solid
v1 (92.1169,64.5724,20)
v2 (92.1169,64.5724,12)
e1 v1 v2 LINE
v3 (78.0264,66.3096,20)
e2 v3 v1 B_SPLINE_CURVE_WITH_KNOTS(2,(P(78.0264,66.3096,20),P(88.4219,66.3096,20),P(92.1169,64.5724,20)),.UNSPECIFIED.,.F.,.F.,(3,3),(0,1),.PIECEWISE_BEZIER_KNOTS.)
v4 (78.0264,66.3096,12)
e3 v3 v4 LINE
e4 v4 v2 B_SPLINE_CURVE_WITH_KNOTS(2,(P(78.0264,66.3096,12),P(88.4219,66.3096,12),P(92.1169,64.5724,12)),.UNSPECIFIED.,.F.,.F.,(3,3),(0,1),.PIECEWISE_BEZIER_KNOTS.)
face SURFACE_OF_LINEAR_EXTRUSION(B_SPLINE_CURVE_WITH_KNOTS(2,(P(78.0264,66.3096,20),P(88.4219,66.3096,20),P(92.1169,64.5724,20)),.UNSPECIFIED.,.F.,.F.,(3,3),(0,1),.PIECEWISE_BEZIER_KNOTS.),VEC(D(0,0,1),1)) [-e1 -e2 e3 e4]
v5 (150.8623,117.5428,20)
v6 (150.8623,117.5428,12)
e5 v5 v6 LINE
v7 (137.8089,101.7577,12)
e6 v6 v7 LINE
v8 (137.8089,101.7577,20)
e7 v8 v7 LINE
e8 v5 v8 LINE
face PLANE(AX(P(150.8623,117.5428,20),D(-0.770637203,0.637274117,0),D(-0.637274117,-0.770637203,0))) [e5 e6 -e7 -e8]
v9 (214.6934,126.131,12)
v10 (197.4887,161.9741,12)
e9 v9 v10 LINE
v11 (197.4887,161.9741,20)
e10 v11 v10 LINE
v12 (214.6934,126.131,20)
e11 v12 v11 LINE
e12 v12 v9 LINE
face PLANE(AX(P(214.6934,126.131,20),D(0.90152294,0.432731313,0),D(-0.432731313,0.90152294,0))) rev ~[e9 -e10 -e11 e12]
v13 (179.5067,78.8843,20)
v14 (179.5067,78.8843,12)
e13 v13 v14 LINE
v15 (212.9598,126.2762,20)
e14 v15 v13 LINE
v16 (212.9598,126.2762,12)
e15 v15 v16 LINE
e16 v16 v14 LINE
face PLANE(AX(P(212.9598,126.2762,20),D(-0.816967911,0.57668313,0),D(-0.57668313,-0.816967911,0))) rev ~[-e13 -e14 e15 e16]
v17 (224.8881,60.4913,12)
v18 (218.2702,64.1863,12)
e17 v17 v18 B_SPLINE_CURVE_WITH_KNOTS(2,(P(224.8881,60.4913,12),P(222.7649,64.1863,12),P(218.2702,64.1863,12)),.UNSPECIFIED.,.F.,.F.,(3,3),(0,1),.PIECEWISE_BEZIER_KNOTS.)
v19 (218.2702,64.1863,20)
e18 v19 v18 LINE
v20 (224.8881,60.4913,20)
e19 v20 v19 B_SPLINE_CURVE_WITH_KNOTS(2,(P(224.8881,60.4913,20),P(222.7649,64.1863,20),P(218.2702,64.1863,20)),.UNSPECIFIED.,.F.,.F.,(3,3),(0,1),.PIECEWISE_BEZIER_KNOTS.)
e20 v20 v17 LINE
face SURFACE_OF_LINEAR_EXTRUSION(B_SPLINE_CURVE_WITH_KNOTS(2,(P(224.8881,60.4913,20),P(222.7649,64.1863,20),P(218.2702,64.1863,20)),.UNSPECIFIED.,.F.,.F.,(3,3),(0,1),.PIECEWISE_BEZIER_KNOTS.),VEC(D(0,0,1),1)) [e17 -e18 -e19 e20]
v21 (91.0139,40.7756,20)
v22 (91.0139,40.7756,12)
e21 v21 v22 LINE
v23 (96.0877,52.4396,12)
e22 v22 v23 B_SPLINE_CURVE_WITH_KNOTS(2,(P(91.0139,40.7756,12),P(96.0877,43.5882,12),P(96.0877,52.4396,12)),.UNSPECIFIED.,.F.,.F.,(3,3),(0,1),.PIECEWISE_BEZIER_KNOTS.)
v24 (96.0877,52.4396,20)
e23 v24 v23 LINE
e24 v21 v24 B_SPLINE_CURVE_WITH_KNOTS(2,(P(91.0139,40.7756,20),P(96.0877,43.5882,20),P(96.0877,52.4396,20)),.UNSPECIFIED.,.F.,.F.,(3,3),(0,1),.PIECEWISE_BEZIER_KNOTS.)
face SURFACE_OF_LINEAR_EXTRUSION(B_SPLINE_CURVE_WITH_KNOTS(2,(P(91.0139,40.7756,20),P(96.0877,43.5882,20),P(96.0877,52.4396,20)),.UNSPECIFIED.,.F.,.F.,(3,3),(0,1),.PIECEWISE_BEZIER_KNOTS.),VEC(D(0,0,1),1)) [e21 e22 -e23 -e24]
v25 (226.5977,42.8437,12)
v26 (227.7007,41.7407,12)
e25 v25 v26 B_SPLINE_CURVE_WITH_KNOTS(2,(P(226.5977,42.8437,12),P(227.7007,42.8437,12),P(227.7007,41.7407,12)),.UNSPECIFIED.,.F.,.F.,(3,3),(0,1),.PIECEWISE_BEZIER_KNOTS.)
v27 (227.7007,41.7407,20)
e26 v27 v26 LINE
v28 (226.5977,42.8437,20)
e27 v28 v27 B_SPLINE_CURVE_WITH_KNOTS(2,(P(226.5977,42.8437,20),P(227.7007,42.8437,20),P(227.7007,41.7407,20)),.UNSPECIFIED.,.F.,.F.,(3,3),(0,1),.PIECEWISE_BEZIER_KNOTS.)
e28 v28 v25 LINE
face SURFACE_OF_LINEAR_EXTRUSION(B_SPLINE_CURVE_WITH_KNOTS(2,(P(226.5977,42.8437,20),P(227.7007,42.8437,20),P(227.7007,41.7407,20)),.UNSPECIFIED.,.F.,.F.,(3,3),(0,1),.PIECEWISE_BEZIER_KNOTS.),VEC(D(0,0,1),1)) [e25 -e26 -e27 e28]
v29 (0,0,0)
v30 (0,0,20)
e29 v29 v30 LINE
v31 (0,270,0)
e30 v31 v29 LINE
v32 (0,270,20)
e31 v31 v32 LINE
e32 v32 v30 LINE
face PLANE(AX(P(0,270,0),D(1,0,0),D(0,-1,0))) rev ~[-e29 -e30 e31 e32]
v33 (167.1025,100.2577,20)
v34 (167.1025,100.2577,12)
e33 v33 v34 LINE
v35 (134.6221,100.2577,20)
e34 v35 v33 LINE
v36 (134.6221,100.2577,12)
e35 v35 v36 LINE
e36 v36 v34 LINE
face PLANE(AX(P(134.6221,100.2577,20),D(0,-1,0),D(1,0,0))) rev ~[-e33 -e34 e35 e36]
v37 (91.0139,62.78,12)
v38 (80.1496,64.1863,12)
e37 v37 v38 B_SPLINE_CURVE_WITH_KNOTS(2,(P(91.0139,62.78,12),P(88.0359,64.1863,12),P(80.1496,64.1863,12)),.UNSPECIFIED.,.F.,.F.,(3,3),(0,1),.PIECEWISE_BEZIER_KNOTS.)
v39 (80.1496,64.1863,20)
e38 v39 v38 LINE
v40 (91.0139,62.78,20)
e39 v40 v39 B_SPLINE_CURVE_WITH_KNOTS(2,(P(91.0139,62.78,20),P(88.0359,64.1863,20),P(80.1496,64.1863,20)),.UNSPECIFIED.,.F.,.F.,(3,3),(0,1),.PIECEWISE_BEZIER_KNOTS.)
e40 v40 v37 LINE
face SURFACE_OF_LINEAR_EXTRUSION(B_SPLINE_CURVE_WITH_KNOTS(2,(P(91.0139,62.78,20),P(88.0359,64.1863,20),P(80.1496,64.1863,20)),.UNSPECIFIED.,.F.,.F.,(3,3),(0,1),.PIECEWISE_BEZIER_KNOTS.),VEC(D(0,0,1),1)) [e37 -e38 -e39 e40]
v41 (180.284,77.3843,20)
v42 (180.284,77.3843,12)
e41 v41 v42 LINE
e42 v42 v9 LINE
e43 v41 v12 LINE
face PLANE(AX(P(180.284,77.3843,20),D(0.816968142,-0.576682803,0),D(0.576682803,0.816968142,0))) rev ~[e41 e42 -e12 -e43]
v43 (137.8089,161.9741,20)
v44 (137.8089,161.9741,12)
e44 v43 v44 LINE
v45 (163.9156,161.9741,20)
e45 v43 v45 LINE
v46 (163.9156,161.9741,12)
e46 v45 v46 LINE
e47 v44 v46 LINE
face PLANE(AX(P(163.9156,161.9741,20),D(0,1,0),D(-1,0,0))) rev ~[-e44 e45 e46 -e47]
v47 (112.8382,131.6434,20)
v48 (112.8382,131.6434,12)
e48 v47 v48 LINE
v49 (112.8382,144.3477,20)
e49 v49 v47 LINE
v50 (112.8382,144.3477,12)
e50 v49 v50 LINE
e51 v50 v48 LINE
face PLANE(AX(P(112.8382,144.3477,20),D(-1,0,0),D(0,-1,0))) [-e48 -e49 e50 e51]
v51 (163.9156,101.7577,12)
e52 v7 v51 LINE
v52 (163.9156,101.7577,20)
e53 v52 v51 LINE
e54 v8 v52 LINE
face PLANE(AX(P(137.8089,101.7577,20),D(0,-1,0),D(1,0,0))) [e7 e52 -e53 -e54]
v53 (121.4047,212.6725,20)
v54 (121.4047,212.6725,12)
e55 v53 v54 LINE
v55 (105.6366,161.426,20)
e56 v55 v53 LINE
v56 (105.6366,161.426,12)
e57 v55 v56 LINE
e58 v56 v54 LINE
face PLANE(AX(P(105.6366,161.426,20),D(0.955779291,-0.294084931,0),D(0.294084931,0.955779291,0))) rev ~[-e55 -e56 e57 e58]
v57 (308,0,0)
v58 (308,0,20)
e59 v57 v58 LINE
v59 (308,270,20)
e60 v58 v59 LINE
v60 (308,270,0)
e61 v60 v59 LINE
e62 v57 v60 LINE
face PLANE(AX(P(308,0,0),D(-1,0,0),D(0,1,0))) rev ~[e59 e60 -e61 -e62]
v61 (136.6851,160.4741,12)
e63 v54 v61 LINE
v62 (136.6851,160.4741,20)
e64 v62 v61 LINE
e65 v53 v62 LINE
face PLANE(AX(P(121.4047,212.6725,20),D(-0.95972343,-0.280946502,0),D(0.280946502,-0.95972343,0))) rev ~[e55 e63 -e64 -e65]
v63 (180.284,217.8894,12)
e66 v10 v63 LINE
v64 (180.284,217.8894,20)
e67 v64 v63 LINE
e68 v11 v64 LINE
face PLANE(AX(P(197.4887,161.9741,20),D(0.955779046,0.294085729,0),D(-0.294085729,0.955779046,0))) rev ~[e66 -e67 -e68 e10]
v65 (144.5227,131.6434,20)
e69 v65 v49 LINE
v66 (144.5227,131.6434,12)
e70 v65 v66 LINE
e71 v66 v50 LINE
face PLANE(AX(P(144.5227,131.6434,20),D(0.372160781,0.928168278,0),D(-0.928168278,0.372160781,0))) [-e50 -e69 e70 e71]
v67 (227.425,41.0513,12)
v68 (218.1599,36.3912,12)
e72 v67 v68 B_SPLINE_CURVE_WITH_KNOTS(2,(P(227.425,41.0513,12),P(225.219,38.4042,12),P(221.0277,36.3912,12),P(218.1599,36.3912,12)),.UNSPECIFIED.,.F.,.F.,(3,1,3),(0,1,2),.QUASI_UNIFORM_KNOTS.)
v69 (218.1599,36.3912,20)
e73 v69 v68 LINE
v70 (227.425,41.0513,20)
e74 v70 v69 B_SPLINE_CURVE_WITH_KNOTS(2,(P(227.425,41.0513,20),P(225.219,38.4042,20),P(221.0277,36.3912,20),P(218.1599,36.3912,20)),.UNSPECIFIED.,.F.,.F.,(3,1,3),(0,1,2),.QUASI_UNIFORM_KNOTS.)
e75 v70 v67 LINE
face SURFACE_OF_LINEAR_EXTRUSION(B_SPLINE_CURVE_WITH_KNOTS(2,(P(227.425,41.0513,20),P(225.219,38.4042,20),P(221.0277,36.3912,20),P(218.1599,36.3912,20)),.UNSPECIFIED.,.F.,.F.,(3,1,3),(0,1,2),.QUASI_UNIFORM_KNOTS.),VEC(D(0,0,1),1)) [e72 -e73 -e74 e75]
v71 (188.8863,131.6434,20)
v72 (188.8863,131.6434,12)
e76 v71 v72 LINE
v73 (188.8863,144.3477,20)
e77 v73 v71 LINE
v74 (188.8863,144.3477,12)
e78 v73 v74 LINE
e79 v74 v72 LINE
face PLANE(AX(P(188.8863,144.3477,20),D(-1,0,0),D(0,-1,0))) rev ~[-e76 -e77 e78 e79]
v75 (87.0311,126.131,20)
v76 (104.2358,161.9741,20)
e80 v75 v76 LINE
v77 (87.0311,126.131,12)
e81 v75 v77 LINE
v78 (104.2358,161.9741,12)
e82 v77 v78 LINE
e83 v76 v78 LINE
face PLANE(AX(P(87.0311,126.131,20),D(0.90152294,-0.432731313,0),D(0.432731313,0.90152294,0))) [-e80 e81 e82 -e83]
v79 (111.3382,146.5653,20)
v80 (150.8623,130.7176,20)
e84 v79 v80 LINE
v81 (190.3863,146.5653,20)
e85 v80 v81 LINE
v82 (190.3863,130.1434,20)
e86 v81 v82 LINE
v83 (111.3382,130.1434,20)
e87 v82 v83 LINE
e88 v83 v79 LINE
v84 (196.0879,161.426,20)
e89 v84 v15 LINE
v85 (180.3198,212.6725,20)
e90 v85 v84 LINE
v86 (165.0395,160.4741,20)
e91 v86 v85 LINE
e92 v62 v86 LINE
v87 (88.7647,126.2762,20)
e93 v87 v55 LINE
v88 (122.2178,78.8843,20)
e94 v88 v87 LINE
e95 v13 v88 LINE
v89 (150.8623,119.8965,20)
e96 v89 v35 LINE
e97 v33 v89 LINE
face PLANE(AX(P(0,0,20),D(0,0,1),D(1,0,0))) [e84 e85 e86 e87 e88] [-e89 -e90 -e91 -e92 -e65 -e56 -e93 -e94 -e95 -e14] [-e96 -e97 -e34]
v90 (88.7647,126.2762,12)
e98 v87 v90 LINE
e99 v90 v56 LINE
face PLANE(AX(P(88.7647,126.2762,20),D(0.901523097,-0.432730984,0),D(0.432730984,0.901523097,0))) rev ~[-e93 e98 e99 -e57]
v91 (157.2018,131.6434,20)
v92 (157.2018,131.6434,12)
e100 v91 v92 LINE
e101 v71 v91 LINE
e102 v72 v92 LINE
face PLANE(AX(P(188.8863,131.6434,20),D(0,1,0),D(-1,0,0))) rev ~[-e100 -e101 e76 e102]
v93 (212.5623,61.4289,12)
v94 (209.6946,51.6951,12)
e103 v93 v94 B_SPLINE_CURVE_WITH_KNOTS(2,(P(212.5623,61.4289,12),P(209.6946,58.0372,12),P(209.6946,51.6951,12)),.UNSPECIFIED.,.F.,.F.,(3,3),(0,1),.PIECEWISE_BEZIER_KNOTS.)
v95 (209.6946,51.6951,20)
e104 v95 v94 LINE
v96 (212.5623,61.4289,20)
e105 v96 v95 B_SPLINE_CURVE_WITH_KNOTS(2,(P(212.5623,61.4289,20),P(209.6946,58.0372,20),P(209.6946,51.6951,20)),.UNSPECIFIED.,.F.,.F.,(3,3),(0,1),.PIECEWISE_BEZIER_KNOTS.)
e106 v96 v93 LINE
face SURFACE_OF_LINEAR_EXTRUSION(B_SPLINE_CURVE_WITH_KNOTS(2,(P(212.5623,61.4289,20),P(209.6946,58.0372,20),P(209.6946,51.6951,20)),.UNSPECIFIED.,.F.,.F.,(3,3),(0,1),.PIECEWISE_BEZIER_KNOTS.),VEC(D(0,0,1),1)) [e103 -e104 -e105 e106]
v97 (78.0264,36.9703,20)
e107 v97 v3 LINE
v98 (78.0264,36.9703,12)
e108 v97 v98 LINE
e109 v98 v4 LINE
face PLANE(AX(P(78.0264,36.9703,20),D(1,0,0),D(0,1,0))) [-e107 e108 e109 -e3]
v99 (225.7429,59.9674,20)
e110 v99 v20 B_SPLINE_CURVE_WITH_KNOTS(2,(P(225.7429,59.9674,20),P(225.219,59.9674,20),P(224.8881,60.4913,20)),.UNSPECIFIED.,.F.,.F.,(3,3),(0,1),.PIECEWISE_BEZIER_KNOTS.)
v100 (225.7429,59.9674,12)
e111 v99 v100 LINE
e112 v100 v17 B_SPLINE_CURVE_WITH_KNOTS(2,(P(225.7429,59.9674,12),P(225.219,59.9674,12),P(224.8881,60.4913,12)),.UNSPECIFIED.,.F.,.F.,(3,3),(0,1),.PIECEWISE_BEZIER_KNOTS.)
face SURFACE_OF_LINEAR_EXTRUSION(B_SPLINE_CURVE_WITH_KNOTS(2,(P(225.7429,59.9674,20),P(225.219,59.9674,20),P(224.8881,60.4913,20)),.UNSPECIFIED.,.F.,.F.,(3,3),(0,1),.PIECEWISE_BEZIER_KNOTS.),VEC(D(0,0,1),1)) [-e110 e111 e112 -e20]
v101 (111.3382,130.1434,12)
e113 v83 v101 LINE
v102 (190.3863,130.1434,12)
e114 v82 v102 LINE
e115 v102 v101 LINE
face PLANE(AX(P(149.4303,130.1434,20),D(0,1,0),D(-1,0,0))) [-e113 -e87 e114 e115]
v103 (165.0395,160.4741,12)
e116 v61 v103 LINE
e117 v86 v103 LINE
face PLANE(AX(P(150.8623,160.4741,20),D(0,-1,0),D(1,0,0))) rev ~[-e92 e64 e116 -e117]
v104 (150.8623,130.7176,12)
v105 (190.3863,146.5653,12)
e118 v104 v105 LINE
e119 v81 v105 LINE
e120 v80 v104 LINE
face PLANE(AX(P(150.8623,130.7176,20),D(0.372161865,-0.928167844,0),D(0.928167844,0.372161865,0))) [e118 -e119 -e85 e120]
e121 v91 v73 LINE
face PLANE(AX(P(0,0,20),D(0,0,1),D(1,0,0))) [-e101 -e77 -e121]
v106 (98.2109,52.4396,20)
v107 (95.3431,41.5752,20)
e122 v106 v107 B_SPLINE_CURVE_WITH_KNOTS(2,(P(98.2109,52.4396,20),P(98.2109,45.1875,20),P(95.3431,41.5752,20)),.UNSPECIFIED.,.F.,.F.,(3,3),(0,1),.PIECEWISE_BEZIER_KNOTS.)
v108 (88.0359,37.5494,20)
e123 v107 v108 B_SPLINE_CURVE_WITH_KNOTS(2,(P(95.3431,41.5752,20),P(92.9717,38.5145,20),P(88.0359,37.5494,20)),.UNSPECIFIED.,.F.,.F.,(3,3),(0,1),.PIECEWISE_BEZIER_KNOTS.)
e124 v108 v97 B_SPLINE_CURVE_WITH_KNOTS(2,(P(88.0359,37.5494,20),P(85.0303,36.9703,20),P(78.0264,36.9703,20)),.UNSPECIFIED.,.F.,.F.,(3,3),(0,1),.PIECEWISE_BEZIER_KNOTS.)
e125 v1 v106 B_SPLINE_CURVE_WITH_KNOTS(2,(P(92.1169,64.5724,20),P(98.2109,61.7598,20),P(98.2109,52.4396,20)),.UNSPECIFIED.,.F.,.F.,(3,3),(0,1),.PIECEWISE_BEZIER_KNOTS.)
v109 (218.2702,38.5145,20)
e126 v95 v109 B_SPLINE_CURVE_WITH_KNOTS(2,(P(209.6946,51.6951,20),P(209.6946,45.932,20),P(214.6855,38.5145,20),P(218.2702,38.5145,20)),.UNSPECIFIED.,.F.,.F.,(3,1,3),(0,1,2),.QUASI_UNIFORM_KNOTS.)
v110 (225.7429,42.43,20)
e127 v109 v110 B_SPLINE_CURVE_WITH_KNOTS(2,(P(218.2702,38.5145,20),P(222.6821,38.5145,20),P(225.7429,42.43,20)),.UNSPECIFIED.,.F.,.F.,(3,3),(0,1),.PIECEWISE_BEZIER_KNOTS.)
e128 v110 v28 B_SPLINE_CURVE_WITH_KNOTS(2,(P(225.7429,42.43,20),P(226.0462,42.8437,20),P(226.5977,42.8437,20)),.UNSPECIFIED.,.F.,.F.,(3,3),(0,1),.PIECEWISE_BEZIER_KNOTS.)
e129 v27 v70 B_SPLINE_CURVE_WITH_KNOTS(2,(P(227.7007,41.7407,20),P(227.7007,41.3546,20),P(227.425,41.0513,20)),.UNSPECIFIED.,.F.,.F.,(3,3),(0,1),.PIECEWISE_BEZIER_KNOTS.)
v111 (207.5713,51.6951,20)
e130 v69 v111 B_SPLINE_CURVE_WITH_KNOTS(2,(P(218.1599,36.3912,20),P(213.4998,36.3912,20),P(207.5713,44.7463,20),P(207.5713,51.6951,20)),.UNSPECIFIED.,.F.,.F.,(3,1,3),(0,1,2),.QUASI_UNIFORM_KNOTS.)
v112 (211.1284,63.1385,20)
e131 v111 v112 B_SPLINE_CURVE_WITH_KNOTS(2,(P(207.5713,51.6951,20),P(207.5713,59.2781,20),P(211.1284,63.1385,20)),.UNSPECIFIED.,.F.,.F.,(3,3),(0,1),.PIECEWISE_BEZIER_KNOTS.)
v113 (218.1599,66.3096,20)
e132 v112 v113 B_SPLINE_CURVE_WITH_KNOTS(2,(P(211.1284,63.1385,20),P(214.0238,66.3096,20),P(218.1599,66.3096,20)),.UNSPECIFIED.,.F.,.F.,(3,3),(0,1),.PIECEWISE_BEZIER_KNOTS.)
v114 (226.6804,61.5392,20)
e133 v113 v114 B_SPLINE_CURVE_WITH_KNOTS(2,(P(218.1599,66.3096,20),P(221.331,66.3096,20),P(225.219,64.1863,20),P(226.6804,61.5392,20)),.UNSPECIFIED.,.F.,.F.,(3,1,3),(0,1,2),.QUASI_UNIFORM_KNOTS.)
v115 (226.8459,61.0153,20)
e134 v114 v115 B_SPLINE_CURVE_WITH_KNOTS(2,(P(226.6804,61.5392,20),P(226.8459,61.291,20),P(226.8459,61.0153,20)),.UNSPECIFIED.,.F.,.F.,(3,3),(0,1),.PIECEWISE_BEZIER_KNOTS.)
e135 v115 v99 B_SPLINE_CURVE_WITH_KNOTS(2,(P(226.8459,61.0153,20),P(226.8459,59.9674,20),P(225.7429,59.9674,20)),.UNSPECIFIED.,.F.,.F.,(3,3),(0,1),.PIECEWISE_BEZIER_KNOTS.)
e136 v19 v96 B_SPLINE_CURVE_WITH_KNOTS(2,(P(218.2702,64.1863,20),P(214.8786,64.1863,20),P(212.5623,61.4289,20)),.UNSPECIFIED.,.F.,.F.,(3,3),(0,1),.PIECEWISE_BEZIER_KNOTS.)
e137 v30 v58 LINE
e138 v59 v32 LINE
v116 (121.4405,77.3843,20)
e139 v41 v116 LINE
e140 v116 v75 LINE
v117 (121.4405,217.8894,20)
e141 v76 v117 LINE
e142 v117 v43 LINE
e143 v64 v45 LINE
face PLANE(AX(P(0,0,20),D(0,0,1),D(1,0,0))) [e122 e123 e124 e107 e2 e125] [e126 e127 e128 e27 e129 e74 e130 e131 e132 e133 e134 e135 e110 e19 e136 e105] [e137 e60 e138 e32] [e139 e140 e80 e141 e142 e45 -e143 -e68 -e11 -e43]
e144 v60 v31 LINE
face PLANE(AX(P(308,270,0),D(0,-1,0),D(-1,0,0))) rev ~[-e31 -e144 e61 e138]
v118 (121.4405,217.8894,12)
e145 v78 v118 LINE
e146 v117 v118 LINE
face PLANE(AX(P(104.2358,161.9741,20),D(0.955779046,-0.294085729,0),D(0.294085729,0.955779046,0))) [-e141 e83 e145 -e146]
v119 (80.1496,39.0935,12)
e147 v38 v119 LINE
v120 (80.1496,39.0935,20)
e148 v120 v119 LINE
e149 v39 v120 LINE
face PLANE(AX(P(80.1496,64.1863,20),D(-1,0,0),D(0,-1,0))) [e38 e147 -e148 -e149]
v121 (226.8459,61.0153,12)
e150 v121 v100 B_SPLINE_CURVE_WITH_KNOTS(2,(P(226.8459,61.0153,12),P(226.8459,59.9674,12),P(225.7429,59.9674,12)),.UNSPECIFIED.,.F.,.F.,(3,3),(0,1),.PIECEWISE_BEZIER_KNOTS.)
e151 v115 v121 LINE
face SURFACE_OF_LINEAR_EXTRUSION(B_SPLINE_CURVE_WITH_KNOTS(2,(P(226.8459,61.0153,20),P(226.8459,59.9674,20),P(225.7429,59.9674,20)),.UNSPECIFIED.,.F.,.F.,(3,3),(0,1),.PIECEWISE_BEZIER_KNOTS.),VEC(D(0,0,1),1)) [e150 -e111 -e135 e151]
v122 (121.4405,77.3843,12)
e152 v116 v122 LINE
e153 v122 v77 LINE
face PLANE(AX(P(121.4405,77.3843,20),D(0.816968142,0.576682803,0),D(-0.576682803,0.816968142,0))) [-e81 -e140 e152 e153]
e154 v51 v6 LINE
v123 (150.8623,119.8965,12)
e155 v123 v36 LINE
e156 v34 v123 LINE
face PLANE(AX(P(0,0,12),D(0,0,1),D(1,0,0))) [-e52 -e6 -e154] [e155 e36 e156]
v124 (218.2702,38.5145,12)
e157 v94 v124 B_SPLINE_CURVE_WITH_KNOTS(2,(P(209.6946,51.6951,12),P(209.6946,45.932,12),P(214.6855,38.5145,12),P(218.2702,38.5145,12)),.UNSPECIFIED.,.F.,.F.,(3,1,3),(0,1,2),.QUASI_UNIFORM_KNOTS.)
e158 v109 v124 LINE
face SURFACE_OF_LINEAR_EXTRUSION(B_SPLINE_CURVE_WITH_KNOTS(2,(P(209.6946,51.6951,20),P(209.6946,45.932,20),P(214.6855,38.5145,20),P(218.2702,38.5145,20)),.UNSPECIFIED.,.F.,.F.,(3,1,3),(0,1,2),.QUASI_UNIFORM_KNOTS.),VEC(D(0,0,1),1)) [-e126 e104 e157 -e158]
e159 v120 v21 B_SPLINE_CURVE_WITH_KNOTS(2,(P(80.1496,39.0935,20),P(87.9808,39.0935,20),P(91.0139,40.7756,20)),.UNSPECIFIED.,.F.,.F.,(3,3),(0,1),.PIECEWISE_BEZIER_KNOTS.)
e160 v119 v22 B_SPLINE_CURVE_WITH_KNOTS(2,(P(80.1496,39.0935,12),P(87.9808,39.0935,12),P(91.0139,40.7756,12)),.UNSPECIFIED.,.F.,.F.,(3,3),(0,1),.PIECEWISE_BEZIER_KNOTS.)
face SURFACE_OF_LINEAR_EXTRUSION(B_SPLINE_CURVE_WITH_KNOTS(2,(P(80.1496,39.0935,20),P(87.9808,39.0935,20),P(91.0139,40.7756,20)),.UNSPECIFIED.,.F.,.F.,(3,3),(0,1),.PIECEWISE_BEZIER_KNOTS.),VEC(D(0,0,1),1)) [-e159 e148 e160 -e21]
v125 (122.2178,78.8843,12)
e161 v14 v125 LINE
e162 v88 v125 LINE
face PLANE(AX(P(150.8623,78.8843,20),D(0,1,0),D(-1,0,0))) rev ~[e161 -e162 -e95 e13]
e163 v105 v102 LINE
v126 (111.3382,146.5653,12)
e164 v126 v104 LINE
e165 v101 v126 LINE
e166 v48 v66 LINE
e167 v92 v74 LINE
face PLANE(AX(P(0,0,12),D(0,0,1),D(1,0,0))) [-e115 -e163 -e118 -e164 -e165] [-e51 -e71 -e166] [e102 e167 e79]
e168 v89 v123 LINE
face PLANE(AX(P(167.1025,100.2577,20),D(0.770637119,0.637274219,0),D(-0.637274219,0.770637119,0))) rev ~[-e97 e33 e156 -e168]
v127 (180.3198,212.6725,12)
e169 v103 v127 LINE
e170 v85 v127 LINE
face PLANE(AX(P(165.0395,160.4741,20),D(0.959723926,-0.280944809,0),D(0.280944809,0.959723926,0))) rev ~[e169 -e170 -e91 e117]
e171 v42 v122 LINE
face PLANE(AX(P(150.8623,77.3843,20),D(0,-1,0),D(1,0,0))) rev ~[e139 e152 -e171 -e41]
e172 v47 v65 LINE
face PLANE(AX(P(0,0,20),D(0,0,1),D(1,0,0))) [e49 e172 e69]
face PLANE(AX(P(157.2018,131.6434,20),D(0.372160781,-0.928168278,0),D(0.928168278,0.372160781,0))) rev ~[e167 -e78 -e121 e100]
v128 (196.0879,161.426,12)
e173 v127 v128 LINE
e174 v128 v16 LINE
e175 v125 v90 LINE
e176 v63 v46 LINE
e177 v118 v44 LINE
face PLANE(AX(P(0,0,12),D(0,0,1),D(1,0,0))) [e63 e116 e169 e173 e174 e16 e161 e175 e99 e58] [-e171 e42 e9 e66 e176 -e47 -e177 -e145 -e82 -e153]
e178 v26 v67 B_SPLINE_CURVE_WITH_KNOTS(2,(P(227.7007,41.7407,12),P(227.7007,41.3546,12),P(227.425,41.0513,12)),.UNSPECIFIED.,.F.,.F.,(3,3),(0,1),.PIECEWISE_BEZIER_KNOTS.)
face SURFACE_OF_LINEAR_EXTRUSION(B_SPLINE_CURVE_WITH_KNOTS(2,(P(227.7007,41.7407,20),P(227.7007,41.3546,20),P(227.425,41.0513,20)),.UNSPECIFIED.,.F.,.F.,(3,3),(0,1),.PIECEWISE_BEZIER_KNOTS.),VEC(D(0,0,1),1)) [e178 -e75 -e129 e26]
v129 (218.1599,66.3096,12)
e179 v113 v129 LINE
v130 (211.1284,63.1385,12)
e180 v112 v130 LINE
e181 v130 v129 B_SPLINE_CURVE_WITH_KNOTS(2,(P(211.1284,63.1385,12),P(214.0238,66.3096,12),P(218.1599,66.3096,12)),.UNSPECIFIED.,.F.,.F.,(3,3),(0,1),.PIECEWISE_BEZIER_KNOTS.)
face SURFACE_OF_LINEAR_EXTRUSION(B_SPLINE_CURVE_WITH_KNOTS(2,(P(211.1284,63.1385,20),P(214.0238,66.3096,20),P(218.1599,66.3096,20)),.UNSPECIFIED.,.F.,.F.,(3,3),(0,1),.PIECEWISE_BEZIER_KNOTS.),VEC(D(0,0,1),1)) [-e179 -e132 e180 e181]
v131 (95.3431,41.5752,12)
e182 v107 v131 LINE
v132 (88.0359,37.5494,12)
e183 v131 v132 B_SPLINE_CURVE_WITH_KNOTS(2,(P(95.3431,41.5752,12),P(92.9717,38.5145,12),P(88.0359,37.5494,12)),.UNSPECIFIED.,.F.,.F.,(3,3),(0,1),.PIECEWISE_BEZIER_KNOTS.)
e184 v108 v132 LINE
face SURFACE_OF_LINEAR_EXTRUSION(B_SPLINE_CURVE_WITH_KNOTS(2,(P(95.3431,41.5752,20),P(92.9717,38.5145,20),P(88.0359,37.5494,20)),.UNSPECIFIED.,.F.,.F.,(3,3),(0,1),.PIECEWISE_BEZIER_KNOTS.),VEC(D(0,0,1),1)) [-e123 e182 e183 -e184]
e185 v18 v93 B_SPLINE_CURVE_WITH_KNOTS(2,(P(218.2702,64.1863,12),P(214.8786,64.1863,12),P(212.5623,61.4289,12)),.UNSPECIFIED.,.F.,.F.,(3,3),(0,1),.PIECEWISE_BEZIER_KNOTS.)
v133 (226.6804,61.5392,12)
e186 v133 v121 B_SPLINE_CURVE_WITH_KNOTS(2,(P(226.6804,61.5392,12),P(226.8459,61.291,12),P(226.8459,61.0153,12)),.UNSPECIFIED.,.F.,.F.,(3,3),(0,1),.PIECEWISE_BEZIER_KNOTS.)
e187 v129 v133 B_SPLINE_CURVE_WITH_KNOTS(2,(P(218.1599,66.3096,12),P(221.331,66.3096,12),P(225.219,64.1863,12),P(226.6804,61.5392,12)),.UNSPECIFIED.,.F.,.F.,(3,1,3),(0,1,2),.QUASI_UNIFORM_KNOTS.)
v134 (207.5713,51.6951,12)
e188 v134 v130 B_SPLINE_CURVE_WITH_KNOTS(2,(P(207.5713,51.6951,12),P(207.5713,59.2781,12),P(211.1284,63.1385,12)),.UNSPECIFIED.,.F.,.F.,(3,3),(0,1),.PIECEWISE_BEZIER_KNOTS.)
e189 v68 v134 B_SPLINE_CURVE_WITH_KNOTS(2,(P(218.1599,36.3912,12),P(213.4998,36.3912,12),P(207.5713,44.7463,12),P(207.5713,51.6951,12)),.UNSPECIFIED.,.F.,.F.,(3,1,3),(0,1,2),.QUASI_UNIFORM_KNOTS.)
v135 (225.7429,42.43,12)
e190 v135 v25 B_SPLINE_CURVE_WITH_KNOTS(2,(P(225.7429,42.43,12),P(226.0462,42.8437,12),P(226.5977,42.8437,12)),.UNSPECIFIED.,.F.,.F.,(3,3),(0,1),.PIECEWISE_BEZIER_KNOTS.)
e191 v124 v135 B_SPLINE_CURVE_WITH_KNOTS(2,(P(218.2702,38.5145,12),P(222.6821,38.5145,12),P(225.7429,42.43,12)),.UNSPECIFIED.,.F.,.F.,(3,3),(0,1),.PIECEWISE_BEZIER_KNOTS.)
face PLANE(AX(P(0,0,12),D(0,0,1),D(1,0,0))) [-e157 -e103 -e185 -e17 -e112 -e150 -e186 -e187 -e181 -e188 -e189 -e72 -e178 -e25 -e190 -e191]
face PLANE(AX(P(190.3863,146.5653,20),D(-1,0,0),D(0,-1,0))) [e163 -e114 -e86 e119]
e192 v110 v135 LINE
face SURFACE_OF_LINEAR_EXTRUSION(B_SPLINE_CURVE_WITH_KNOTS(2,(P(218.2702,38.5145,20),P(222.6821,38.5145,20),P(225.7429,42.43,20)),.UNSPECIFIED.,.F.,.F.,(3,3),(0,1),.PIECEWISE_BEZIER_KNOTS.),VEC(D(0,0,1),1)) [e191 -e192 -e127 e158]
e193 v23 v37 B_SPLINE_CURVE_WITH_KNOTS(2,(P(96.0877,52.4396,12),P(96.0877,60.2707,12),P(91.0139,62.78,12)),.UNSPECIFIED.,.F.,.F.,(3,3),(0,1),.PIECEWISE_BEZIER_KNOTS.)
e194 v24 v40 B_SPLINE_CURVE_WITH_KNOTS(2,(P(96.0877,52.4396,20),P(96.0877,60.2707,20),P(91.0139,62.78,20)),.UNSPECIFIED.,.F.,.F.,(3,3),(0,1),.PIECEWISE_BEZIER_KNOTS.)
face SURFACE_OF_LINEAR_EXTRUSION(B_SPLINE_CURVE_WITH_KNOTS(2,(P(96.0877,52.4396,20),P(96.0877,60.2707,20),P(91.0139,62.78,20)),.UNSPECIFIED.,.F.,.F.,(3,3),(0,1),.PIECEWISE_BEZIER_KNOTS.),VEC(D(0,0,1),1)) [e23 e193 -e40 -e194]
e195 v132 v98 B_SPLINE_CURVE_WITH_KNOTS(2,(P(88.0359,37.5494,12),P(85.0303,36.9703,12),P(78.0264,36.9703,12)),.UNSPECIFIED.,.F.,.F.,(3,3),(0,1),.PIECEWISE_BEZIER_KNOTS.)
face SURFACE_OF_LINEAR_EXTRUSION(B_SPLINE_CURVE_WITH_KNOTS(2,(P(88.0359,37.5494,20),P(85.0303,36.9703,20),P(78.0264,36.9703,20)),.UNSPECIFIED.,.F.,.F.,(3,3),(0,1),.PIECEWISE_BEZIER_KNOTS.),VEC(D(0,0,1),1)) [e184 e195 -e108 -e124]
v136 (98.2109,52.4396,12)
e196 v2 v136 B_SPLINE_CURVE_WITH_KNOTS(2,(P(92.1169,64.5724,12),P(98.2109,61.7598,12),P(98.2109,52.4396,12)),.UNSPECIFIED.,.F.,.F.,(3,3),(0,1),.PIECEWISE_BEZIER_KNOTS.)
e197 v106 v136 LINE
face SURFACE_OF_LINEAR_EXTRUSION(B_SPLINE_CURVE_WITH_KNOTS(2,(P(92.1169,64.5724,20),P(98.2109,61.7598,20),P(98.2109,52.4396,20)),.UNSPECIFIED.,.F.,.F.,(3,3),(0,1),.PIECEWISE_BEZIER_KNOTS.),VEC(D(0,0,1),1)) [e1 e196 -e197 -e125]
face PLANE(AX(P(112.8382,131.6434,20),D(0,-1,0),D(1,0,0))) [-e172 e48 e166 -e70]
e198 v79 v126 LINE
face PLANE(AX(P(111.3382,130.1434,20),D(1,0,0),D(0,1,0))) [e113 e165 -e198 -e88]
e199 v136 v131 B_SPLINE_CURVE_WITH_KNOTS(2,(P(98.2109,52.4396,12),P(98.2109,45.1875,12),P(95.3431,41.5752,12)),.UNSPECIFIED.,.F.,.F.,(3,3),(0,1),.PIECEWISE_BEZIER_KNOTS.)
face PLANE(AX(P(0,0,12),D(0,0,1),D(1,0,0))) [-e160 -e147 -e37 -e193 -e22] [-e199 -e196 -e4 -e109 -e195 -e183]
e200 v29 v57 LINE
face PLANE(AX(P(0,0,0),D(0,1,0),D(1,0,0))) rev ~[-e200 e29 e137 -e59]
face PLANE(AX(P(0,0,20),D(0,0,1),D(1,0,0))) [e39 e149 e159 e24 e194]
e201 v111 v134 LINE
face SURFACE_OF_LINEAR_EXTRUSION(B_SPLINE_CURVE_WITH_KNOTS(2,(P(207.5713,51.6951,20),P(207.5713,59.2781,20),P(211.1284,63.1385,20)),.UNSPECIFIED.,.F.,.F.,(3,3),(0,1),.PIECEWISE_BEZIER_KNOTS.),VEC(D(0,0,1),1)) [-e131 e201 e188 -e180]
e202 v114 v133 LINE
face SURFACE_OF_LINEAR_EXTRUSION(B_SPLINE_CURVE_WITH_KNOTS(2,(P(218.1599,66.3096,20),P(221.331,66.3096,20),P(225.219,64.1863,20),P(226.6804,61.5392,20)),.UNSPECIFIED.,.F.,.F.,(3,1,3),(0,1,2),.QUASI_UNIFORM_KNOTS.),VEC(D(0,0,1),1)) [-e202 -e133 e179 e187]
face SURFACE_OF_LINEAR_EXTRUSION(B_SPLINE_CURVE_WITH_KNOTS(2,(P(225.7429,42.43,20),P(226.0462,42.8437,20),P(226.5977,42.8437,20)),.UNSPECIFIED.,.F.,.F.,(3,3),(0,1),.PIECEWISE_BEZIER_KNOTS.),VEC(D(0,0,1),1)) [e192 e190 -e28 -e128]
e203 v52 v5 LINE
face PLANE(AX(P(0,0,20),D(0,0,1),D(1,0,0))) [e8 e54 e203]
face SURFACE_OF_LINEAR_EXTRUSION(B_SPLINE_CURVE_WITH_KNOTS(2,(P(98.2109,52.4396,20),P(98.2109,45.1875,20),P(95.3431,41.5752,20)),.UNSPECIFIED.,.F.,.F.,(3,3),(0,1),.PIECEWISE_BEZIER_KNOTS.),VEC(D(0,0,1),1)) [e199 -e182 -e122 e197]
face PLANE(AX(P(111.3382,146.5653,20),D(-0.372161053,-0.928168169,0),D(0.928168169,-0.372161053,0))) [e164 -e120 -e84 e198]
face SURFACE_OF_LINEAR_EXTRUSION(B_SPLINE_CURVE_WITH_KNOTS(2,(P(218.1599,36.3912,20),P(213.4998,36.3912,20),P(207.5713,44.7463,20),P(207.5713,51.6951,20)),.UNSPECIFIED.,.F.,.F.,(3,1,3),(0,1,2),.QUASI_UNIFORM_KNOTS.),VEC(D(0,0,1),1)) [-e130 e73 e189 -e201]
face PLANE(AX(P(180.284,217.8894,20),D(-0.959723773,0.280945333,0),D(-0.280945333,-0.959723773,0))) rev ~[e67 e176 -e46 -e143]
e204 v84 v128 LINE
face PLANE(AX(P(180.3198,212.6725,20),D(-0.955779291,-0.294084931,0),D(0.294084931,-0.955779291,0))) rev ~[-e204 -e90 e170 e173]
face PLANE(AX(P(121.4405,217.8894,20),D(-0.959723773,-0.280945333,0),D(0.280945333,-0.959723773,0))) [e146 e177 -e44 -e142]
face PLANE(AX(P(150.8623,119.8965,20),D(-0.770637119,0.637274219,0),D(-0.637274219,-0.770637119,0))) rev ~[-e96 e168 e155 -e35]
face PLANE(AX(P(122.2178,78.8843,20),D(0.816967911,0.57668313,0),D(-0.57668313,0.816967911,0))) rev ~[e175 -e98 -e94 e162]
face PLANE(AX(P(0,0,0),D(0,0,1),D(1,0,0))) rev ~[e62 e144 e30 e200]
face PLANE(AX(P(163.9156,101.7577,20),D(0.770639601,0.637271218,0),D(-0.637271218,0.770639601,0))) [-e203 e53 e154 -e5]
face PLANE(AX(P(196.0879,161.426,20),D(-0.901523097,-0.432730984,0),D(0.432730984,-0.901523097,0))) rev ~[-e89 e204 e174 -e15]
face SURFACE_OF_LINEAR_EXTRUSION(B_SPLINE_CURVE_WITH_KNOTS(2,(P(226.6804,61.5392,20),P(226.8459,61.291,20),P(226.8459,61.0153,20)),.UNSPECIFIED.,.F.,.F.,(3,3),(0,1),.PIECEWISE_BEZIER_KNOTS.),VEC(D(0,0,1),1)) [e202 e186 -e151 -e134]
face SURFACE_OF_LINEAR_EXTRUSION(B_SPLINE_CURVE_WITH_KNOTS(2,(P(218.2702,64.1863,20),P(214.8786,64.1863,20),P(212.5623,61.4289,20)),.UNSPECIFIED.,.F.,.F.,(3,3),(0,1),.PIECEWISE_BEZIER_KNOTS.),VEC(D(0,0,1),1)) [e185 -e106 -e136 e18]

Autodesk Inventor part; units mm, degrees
ref_plane "YZ Plane" through (0, 0, 0) normal (1, 0, 0) x (0, 1, 0)
ref_plane "XZ Plane" through (0, 0, 0) normal (0, 1, 0) x (-1, 0, 0)
ref_plane "XY Plane" through (0, 0, 0) normal (0, 0, 1) x (1, 0, 0)
sketch "Sketch1" plane through (0, 0, 0) normal (0, 0, 1) x (1, 0, 0)
  line L0 (0, 0) -> (308, 0)
  line L1 (308, 0) -> (308, 270)
  line L2 (308, 270) -> (0, 270)
  line L3 (0, 270) -> (0, 0)
  dimension "d0" = 308
  dimension "d1" = 270
extrude "Extrusion1" add sketch "Sketch1" along normal blind 20
sketch "Sketch2" plane through (0, 0, 20) normal (0, 0, 1) x (1, 0, 0)
  line L0 (150.8623, 77.3843) -> (180.284, 77.3843)
  line L1 (180.284, 77.3843) -> (214.6934, 126.131)
  line L2 (214.6934, 126.131) -> (197.4887, 161.9741)
  line L3 (197.4887, 161.9741) -> (180.284, 217.8894)
  line L4 (180.284, 217.8894) -> (163.9156, 161.9741)
  line L5 (163.9156, 161.9741) -> (150.8623, 161.9741)
  line L6 (150.8623, 161.9741) -> (150.8623, 77.3843) construction
  line L7 (150.8623, 77.3843) -> (121.4405, 77.3843)
  line L8 (121.4405, 77.3843) -> (87.0311, 126.131)
  line L9 (87.0311, 126.131) -> (104.2358, 161.9741)
  line L10 (104.2358, 161.9741) -> (121.4405, 217.8894)
  line L11 (121.4405, 217.8894) -> (137.8089, 161.9741)
  line L12 (137.8089, 161.9741) -> (150.8623, 161.9741)
  line L13 (308, 0) -> (308, 270) projected
  line L14 (144.5227, 131.6434) -> (112.8382, 144.3477)
  line L15 (112.8382, 144.3477) -> (112.8382, 131.6434)
  line L16 (112.8382, 131.6434) -> (144.5227, 131.6434)
  line L17 (157.2018, 131.6434) -> (188.8863, 144.3477)
  line L18 (188.8863, 144.3477) -> (188.8863, 131.6434)
  line L19 (188.8863, 131.6434) -> (157.2018, 131.6434)
  line L20 (150.8623, 117.5428) -> (137.8089, 101.7577)
  line L21 (137.8089, 101.7577) -> (163.9156, 101.7577)
  line L22 (163.9156, 101.7577) -> (150.8623, 117.5428)
  line L23 (212.9598, 126.2762) -> (179.5067, 78.8843)
  line L24 (179.5067, 78.8843) -> (150.8623, 78.8843)
  line L25 (150.8623, 78.8843) -> (122.2178, 78.8843)
  line L26 (122.2178, 78.8843) -> (88.7647, 126.2762)
  line L27 (88.7647, 126.2762) -> (105.6366, 161.426)
  line L28 (105.6366, 161.426) -> (121.4047, 212.6725)
  line L29 (121.4047, 212.6725) -> (136.6851, 160.4741)
  line L30 (136.6851, 160.4741) -> (150.8623, 160.4741)
  line L31 (150.8623, 160.4741) -> (165.0395, 160.4741)
  line L32 (165.0395, 160.4741) -> (180.3198, 212.6725)
  line L33 (180.3198, 212.6725) -> (196.0879, 161.426)
  line L34 (196.0879, 161.426) -> (212.9598, 126.2762)
  line L35 (111.3382, 146.5653) -> (150.8623, 130.7176)
  line L36 (152.2942, 130.1434) -> (111.3382, 130.1434)
  line L37 (111.3382, 130.1434) -> (111.3382, 146.5653)
  line L38 (150.8623, 130.7176) -> (190.3863, 146.5653)
  line L39 (190.3863, 146.5653) -> (190.3863, 130.1434)
  line L40 (190.3863, 130.1434) -> (149.4303, 130.1434)
  line L41 (150.8623, 119.8965) -> (134.6221, 100.2577)
  line L42 (134.6221, 100.2577) -> (167.1025, 100.2577)
  line L43 (167.1025, 100.2577) -> (150.8623, 119.8965)
  line L44 (74.5244, 66.3096) -> (229.3713, 66.3096) construction
  line L45 (229.3713, 66.3096) -> (229.3713, 36.329) construction
  line L46 (229.3713, 36.329) -> (74.5244, 36.329) construction
  line L47 (74.5244, 36.329) -> (74.5244, 66.3096) construction
  line L48 (208.446, 49.8524) -> (208.446, 52.8954)
  line L49 (97.2006, 52.8954) -> (97.2006, 49.8524)
  spline S0 degree 2 poles (98.2109, 52.4396) (98.2109, 45.1875) (95.3431, 41.5752) knots 0 0 0 1 1 1
  spline S1 degree 2 poles (95.3431, 41.5752) (92.9717, 38.5145) (88.0359, 37.5494) knots 0 0 0 1 1 1
  spline S2 degree 2 poles (88.0359, 37.5494) (85.0303, 36.9703) (78.0264, 36.9703) knots 0 0 0 1 1 1
  line L50 (78.0264, 36.9703) -> (78.0264, 66.3096)
  spline S3 degree 2 poles (78.0264, 66.3096) (88.4219, 66.3096) (92.1169, 64.5724) knots 0 0 0 1 1 1
  spline S4 degree 2 poles (92.1169, 64.5724) (98.2109, 61.7598) (98.2109, 52.4396) knots 0 0 0 1 1 1
  spline S5 degree 2 poles (96.0877, 52.4396) (96.0877, 60.2707) (91.0139, 62.78) knots 0 0 0 1 1 1
  spline S6 degree 2 poles (91.0139, 62.78) (88.0359, 64.1863) (80.1496, 64.1863) knots 0 0 0 1 1 1
  line L51 (80.1496, 64.1863) -> (80.1496, 39.0935)
  spline S7 degree 2 poles (80.1496, 39.0935) (87.9808, 39.0935) (91.0139, 40.7756) knots 0 0 0 1 1 1
  spline S8 degree 2 poles (91.0139, 40.7756) (96.0877, 43.5882) (96.0877, 52.4396) knots 0 0 0 1 1 1
  spline S9 degree 2 poles (227.425, 41.0513) (225.219, 38.4042) (221.0277, 36.3912) (218.1599, 36.3912) knots 0 0 0 1 2 2 2
  spline S10 degree 2 poles (218.1599, 36.3912) (213.4998, 36.3912) (207.5713, 44.7463) (207.5713, 51.6951) knots 0 0 0 1 2 2 2
  spline S11 degree 2 poles (207.5713, 51.6951) (207.5713, 59.2781) (211.1284, 63.1385) knots 0 0 0 1 1 1
  spline S12 degree 2 poles (211.1284, 63.1385) (214.0238, 66.3096) (218.1599, 66.3096) knots 0 0 0 1 1 1
  spline S13 degree 2 poles (218.1599, 66.3096) (221.331, 66.3096) (225.219, 64.1863) (226.6804, 61.5392) knots 0 0 0 1 2 2 2
  spline S14 degree 2 poles (226.6804, 61.5392) (226.8459, 61.291) (226.8459, 61.0153) knots 0 0 0 1 1 1
  spline S15 degree 2 poles (226.8459, 61.0153) (226.8459, 59.9674) (225.7429, 59.9674) knots 0 0 0 1 1 1
  spline S16 degree 2 poles (225.7429, 59.9674) (225.219, 59.9674) (224.8881, 60.4913) knots 0 0 0 1 1 1
  spline S17 degree 2 poles (224.8881, 60.4913) (222.7649, 64.1863) (218.2702, 64.1863) knots 0 0 0 1 1 1
  spline S18 degree 2 poles (218.2702, 64.1863) (214.8786, 64.1863) (212.5623, 61.4289) knots 0 0 0 1 1 1
  spline S19 degree 2 poles (212.5623, 61.4289) (209.6946, 58.0372) (209.6946, 51.6951) knots 0 0 0 1 1 1
  spline S20 degree 2 poles (209.6946, 51.6951) (209.6946, 45.932) (214.6855, 38.5145) (218.2702, 38.5145) knots 0 0 0 1 2 2 2
  spline S21 degree 2 poles (218.2702, 38.5145) (222.6821, 38.5145) (225.7429, 42.43) knots 0 0 0 1 1 1
  spline S22 degree 2 poles (225.7429, 42.43) (226.0462, 42.8437) (226.5977, 42.8437) knots 0 0 0 1 1 1
  spline S23 degree 2 poles (226.5977, 42.8437) (227.7007, 42.8437) (227.7007, 41.7407) knots 0 0 0 1 1 1
  spline S24 degree 2 poles (227.7007, 41.7407) (227.7007, 41.3546) (227.425, 41.0513) knots 0 0 0 1 1 1
  point P0 (0, 0)
  point P1 (150.8623, 130.1434)
  dimension "d5" = 1.5
  dimension "d6" = 1.5
  dimension "d7" = 1.5
  dimension "d8" = 1.5
extrude "Extrusion2" cut sketch "Sketch2" against normal blind 8
properties part number "Tablero_DC_007"
